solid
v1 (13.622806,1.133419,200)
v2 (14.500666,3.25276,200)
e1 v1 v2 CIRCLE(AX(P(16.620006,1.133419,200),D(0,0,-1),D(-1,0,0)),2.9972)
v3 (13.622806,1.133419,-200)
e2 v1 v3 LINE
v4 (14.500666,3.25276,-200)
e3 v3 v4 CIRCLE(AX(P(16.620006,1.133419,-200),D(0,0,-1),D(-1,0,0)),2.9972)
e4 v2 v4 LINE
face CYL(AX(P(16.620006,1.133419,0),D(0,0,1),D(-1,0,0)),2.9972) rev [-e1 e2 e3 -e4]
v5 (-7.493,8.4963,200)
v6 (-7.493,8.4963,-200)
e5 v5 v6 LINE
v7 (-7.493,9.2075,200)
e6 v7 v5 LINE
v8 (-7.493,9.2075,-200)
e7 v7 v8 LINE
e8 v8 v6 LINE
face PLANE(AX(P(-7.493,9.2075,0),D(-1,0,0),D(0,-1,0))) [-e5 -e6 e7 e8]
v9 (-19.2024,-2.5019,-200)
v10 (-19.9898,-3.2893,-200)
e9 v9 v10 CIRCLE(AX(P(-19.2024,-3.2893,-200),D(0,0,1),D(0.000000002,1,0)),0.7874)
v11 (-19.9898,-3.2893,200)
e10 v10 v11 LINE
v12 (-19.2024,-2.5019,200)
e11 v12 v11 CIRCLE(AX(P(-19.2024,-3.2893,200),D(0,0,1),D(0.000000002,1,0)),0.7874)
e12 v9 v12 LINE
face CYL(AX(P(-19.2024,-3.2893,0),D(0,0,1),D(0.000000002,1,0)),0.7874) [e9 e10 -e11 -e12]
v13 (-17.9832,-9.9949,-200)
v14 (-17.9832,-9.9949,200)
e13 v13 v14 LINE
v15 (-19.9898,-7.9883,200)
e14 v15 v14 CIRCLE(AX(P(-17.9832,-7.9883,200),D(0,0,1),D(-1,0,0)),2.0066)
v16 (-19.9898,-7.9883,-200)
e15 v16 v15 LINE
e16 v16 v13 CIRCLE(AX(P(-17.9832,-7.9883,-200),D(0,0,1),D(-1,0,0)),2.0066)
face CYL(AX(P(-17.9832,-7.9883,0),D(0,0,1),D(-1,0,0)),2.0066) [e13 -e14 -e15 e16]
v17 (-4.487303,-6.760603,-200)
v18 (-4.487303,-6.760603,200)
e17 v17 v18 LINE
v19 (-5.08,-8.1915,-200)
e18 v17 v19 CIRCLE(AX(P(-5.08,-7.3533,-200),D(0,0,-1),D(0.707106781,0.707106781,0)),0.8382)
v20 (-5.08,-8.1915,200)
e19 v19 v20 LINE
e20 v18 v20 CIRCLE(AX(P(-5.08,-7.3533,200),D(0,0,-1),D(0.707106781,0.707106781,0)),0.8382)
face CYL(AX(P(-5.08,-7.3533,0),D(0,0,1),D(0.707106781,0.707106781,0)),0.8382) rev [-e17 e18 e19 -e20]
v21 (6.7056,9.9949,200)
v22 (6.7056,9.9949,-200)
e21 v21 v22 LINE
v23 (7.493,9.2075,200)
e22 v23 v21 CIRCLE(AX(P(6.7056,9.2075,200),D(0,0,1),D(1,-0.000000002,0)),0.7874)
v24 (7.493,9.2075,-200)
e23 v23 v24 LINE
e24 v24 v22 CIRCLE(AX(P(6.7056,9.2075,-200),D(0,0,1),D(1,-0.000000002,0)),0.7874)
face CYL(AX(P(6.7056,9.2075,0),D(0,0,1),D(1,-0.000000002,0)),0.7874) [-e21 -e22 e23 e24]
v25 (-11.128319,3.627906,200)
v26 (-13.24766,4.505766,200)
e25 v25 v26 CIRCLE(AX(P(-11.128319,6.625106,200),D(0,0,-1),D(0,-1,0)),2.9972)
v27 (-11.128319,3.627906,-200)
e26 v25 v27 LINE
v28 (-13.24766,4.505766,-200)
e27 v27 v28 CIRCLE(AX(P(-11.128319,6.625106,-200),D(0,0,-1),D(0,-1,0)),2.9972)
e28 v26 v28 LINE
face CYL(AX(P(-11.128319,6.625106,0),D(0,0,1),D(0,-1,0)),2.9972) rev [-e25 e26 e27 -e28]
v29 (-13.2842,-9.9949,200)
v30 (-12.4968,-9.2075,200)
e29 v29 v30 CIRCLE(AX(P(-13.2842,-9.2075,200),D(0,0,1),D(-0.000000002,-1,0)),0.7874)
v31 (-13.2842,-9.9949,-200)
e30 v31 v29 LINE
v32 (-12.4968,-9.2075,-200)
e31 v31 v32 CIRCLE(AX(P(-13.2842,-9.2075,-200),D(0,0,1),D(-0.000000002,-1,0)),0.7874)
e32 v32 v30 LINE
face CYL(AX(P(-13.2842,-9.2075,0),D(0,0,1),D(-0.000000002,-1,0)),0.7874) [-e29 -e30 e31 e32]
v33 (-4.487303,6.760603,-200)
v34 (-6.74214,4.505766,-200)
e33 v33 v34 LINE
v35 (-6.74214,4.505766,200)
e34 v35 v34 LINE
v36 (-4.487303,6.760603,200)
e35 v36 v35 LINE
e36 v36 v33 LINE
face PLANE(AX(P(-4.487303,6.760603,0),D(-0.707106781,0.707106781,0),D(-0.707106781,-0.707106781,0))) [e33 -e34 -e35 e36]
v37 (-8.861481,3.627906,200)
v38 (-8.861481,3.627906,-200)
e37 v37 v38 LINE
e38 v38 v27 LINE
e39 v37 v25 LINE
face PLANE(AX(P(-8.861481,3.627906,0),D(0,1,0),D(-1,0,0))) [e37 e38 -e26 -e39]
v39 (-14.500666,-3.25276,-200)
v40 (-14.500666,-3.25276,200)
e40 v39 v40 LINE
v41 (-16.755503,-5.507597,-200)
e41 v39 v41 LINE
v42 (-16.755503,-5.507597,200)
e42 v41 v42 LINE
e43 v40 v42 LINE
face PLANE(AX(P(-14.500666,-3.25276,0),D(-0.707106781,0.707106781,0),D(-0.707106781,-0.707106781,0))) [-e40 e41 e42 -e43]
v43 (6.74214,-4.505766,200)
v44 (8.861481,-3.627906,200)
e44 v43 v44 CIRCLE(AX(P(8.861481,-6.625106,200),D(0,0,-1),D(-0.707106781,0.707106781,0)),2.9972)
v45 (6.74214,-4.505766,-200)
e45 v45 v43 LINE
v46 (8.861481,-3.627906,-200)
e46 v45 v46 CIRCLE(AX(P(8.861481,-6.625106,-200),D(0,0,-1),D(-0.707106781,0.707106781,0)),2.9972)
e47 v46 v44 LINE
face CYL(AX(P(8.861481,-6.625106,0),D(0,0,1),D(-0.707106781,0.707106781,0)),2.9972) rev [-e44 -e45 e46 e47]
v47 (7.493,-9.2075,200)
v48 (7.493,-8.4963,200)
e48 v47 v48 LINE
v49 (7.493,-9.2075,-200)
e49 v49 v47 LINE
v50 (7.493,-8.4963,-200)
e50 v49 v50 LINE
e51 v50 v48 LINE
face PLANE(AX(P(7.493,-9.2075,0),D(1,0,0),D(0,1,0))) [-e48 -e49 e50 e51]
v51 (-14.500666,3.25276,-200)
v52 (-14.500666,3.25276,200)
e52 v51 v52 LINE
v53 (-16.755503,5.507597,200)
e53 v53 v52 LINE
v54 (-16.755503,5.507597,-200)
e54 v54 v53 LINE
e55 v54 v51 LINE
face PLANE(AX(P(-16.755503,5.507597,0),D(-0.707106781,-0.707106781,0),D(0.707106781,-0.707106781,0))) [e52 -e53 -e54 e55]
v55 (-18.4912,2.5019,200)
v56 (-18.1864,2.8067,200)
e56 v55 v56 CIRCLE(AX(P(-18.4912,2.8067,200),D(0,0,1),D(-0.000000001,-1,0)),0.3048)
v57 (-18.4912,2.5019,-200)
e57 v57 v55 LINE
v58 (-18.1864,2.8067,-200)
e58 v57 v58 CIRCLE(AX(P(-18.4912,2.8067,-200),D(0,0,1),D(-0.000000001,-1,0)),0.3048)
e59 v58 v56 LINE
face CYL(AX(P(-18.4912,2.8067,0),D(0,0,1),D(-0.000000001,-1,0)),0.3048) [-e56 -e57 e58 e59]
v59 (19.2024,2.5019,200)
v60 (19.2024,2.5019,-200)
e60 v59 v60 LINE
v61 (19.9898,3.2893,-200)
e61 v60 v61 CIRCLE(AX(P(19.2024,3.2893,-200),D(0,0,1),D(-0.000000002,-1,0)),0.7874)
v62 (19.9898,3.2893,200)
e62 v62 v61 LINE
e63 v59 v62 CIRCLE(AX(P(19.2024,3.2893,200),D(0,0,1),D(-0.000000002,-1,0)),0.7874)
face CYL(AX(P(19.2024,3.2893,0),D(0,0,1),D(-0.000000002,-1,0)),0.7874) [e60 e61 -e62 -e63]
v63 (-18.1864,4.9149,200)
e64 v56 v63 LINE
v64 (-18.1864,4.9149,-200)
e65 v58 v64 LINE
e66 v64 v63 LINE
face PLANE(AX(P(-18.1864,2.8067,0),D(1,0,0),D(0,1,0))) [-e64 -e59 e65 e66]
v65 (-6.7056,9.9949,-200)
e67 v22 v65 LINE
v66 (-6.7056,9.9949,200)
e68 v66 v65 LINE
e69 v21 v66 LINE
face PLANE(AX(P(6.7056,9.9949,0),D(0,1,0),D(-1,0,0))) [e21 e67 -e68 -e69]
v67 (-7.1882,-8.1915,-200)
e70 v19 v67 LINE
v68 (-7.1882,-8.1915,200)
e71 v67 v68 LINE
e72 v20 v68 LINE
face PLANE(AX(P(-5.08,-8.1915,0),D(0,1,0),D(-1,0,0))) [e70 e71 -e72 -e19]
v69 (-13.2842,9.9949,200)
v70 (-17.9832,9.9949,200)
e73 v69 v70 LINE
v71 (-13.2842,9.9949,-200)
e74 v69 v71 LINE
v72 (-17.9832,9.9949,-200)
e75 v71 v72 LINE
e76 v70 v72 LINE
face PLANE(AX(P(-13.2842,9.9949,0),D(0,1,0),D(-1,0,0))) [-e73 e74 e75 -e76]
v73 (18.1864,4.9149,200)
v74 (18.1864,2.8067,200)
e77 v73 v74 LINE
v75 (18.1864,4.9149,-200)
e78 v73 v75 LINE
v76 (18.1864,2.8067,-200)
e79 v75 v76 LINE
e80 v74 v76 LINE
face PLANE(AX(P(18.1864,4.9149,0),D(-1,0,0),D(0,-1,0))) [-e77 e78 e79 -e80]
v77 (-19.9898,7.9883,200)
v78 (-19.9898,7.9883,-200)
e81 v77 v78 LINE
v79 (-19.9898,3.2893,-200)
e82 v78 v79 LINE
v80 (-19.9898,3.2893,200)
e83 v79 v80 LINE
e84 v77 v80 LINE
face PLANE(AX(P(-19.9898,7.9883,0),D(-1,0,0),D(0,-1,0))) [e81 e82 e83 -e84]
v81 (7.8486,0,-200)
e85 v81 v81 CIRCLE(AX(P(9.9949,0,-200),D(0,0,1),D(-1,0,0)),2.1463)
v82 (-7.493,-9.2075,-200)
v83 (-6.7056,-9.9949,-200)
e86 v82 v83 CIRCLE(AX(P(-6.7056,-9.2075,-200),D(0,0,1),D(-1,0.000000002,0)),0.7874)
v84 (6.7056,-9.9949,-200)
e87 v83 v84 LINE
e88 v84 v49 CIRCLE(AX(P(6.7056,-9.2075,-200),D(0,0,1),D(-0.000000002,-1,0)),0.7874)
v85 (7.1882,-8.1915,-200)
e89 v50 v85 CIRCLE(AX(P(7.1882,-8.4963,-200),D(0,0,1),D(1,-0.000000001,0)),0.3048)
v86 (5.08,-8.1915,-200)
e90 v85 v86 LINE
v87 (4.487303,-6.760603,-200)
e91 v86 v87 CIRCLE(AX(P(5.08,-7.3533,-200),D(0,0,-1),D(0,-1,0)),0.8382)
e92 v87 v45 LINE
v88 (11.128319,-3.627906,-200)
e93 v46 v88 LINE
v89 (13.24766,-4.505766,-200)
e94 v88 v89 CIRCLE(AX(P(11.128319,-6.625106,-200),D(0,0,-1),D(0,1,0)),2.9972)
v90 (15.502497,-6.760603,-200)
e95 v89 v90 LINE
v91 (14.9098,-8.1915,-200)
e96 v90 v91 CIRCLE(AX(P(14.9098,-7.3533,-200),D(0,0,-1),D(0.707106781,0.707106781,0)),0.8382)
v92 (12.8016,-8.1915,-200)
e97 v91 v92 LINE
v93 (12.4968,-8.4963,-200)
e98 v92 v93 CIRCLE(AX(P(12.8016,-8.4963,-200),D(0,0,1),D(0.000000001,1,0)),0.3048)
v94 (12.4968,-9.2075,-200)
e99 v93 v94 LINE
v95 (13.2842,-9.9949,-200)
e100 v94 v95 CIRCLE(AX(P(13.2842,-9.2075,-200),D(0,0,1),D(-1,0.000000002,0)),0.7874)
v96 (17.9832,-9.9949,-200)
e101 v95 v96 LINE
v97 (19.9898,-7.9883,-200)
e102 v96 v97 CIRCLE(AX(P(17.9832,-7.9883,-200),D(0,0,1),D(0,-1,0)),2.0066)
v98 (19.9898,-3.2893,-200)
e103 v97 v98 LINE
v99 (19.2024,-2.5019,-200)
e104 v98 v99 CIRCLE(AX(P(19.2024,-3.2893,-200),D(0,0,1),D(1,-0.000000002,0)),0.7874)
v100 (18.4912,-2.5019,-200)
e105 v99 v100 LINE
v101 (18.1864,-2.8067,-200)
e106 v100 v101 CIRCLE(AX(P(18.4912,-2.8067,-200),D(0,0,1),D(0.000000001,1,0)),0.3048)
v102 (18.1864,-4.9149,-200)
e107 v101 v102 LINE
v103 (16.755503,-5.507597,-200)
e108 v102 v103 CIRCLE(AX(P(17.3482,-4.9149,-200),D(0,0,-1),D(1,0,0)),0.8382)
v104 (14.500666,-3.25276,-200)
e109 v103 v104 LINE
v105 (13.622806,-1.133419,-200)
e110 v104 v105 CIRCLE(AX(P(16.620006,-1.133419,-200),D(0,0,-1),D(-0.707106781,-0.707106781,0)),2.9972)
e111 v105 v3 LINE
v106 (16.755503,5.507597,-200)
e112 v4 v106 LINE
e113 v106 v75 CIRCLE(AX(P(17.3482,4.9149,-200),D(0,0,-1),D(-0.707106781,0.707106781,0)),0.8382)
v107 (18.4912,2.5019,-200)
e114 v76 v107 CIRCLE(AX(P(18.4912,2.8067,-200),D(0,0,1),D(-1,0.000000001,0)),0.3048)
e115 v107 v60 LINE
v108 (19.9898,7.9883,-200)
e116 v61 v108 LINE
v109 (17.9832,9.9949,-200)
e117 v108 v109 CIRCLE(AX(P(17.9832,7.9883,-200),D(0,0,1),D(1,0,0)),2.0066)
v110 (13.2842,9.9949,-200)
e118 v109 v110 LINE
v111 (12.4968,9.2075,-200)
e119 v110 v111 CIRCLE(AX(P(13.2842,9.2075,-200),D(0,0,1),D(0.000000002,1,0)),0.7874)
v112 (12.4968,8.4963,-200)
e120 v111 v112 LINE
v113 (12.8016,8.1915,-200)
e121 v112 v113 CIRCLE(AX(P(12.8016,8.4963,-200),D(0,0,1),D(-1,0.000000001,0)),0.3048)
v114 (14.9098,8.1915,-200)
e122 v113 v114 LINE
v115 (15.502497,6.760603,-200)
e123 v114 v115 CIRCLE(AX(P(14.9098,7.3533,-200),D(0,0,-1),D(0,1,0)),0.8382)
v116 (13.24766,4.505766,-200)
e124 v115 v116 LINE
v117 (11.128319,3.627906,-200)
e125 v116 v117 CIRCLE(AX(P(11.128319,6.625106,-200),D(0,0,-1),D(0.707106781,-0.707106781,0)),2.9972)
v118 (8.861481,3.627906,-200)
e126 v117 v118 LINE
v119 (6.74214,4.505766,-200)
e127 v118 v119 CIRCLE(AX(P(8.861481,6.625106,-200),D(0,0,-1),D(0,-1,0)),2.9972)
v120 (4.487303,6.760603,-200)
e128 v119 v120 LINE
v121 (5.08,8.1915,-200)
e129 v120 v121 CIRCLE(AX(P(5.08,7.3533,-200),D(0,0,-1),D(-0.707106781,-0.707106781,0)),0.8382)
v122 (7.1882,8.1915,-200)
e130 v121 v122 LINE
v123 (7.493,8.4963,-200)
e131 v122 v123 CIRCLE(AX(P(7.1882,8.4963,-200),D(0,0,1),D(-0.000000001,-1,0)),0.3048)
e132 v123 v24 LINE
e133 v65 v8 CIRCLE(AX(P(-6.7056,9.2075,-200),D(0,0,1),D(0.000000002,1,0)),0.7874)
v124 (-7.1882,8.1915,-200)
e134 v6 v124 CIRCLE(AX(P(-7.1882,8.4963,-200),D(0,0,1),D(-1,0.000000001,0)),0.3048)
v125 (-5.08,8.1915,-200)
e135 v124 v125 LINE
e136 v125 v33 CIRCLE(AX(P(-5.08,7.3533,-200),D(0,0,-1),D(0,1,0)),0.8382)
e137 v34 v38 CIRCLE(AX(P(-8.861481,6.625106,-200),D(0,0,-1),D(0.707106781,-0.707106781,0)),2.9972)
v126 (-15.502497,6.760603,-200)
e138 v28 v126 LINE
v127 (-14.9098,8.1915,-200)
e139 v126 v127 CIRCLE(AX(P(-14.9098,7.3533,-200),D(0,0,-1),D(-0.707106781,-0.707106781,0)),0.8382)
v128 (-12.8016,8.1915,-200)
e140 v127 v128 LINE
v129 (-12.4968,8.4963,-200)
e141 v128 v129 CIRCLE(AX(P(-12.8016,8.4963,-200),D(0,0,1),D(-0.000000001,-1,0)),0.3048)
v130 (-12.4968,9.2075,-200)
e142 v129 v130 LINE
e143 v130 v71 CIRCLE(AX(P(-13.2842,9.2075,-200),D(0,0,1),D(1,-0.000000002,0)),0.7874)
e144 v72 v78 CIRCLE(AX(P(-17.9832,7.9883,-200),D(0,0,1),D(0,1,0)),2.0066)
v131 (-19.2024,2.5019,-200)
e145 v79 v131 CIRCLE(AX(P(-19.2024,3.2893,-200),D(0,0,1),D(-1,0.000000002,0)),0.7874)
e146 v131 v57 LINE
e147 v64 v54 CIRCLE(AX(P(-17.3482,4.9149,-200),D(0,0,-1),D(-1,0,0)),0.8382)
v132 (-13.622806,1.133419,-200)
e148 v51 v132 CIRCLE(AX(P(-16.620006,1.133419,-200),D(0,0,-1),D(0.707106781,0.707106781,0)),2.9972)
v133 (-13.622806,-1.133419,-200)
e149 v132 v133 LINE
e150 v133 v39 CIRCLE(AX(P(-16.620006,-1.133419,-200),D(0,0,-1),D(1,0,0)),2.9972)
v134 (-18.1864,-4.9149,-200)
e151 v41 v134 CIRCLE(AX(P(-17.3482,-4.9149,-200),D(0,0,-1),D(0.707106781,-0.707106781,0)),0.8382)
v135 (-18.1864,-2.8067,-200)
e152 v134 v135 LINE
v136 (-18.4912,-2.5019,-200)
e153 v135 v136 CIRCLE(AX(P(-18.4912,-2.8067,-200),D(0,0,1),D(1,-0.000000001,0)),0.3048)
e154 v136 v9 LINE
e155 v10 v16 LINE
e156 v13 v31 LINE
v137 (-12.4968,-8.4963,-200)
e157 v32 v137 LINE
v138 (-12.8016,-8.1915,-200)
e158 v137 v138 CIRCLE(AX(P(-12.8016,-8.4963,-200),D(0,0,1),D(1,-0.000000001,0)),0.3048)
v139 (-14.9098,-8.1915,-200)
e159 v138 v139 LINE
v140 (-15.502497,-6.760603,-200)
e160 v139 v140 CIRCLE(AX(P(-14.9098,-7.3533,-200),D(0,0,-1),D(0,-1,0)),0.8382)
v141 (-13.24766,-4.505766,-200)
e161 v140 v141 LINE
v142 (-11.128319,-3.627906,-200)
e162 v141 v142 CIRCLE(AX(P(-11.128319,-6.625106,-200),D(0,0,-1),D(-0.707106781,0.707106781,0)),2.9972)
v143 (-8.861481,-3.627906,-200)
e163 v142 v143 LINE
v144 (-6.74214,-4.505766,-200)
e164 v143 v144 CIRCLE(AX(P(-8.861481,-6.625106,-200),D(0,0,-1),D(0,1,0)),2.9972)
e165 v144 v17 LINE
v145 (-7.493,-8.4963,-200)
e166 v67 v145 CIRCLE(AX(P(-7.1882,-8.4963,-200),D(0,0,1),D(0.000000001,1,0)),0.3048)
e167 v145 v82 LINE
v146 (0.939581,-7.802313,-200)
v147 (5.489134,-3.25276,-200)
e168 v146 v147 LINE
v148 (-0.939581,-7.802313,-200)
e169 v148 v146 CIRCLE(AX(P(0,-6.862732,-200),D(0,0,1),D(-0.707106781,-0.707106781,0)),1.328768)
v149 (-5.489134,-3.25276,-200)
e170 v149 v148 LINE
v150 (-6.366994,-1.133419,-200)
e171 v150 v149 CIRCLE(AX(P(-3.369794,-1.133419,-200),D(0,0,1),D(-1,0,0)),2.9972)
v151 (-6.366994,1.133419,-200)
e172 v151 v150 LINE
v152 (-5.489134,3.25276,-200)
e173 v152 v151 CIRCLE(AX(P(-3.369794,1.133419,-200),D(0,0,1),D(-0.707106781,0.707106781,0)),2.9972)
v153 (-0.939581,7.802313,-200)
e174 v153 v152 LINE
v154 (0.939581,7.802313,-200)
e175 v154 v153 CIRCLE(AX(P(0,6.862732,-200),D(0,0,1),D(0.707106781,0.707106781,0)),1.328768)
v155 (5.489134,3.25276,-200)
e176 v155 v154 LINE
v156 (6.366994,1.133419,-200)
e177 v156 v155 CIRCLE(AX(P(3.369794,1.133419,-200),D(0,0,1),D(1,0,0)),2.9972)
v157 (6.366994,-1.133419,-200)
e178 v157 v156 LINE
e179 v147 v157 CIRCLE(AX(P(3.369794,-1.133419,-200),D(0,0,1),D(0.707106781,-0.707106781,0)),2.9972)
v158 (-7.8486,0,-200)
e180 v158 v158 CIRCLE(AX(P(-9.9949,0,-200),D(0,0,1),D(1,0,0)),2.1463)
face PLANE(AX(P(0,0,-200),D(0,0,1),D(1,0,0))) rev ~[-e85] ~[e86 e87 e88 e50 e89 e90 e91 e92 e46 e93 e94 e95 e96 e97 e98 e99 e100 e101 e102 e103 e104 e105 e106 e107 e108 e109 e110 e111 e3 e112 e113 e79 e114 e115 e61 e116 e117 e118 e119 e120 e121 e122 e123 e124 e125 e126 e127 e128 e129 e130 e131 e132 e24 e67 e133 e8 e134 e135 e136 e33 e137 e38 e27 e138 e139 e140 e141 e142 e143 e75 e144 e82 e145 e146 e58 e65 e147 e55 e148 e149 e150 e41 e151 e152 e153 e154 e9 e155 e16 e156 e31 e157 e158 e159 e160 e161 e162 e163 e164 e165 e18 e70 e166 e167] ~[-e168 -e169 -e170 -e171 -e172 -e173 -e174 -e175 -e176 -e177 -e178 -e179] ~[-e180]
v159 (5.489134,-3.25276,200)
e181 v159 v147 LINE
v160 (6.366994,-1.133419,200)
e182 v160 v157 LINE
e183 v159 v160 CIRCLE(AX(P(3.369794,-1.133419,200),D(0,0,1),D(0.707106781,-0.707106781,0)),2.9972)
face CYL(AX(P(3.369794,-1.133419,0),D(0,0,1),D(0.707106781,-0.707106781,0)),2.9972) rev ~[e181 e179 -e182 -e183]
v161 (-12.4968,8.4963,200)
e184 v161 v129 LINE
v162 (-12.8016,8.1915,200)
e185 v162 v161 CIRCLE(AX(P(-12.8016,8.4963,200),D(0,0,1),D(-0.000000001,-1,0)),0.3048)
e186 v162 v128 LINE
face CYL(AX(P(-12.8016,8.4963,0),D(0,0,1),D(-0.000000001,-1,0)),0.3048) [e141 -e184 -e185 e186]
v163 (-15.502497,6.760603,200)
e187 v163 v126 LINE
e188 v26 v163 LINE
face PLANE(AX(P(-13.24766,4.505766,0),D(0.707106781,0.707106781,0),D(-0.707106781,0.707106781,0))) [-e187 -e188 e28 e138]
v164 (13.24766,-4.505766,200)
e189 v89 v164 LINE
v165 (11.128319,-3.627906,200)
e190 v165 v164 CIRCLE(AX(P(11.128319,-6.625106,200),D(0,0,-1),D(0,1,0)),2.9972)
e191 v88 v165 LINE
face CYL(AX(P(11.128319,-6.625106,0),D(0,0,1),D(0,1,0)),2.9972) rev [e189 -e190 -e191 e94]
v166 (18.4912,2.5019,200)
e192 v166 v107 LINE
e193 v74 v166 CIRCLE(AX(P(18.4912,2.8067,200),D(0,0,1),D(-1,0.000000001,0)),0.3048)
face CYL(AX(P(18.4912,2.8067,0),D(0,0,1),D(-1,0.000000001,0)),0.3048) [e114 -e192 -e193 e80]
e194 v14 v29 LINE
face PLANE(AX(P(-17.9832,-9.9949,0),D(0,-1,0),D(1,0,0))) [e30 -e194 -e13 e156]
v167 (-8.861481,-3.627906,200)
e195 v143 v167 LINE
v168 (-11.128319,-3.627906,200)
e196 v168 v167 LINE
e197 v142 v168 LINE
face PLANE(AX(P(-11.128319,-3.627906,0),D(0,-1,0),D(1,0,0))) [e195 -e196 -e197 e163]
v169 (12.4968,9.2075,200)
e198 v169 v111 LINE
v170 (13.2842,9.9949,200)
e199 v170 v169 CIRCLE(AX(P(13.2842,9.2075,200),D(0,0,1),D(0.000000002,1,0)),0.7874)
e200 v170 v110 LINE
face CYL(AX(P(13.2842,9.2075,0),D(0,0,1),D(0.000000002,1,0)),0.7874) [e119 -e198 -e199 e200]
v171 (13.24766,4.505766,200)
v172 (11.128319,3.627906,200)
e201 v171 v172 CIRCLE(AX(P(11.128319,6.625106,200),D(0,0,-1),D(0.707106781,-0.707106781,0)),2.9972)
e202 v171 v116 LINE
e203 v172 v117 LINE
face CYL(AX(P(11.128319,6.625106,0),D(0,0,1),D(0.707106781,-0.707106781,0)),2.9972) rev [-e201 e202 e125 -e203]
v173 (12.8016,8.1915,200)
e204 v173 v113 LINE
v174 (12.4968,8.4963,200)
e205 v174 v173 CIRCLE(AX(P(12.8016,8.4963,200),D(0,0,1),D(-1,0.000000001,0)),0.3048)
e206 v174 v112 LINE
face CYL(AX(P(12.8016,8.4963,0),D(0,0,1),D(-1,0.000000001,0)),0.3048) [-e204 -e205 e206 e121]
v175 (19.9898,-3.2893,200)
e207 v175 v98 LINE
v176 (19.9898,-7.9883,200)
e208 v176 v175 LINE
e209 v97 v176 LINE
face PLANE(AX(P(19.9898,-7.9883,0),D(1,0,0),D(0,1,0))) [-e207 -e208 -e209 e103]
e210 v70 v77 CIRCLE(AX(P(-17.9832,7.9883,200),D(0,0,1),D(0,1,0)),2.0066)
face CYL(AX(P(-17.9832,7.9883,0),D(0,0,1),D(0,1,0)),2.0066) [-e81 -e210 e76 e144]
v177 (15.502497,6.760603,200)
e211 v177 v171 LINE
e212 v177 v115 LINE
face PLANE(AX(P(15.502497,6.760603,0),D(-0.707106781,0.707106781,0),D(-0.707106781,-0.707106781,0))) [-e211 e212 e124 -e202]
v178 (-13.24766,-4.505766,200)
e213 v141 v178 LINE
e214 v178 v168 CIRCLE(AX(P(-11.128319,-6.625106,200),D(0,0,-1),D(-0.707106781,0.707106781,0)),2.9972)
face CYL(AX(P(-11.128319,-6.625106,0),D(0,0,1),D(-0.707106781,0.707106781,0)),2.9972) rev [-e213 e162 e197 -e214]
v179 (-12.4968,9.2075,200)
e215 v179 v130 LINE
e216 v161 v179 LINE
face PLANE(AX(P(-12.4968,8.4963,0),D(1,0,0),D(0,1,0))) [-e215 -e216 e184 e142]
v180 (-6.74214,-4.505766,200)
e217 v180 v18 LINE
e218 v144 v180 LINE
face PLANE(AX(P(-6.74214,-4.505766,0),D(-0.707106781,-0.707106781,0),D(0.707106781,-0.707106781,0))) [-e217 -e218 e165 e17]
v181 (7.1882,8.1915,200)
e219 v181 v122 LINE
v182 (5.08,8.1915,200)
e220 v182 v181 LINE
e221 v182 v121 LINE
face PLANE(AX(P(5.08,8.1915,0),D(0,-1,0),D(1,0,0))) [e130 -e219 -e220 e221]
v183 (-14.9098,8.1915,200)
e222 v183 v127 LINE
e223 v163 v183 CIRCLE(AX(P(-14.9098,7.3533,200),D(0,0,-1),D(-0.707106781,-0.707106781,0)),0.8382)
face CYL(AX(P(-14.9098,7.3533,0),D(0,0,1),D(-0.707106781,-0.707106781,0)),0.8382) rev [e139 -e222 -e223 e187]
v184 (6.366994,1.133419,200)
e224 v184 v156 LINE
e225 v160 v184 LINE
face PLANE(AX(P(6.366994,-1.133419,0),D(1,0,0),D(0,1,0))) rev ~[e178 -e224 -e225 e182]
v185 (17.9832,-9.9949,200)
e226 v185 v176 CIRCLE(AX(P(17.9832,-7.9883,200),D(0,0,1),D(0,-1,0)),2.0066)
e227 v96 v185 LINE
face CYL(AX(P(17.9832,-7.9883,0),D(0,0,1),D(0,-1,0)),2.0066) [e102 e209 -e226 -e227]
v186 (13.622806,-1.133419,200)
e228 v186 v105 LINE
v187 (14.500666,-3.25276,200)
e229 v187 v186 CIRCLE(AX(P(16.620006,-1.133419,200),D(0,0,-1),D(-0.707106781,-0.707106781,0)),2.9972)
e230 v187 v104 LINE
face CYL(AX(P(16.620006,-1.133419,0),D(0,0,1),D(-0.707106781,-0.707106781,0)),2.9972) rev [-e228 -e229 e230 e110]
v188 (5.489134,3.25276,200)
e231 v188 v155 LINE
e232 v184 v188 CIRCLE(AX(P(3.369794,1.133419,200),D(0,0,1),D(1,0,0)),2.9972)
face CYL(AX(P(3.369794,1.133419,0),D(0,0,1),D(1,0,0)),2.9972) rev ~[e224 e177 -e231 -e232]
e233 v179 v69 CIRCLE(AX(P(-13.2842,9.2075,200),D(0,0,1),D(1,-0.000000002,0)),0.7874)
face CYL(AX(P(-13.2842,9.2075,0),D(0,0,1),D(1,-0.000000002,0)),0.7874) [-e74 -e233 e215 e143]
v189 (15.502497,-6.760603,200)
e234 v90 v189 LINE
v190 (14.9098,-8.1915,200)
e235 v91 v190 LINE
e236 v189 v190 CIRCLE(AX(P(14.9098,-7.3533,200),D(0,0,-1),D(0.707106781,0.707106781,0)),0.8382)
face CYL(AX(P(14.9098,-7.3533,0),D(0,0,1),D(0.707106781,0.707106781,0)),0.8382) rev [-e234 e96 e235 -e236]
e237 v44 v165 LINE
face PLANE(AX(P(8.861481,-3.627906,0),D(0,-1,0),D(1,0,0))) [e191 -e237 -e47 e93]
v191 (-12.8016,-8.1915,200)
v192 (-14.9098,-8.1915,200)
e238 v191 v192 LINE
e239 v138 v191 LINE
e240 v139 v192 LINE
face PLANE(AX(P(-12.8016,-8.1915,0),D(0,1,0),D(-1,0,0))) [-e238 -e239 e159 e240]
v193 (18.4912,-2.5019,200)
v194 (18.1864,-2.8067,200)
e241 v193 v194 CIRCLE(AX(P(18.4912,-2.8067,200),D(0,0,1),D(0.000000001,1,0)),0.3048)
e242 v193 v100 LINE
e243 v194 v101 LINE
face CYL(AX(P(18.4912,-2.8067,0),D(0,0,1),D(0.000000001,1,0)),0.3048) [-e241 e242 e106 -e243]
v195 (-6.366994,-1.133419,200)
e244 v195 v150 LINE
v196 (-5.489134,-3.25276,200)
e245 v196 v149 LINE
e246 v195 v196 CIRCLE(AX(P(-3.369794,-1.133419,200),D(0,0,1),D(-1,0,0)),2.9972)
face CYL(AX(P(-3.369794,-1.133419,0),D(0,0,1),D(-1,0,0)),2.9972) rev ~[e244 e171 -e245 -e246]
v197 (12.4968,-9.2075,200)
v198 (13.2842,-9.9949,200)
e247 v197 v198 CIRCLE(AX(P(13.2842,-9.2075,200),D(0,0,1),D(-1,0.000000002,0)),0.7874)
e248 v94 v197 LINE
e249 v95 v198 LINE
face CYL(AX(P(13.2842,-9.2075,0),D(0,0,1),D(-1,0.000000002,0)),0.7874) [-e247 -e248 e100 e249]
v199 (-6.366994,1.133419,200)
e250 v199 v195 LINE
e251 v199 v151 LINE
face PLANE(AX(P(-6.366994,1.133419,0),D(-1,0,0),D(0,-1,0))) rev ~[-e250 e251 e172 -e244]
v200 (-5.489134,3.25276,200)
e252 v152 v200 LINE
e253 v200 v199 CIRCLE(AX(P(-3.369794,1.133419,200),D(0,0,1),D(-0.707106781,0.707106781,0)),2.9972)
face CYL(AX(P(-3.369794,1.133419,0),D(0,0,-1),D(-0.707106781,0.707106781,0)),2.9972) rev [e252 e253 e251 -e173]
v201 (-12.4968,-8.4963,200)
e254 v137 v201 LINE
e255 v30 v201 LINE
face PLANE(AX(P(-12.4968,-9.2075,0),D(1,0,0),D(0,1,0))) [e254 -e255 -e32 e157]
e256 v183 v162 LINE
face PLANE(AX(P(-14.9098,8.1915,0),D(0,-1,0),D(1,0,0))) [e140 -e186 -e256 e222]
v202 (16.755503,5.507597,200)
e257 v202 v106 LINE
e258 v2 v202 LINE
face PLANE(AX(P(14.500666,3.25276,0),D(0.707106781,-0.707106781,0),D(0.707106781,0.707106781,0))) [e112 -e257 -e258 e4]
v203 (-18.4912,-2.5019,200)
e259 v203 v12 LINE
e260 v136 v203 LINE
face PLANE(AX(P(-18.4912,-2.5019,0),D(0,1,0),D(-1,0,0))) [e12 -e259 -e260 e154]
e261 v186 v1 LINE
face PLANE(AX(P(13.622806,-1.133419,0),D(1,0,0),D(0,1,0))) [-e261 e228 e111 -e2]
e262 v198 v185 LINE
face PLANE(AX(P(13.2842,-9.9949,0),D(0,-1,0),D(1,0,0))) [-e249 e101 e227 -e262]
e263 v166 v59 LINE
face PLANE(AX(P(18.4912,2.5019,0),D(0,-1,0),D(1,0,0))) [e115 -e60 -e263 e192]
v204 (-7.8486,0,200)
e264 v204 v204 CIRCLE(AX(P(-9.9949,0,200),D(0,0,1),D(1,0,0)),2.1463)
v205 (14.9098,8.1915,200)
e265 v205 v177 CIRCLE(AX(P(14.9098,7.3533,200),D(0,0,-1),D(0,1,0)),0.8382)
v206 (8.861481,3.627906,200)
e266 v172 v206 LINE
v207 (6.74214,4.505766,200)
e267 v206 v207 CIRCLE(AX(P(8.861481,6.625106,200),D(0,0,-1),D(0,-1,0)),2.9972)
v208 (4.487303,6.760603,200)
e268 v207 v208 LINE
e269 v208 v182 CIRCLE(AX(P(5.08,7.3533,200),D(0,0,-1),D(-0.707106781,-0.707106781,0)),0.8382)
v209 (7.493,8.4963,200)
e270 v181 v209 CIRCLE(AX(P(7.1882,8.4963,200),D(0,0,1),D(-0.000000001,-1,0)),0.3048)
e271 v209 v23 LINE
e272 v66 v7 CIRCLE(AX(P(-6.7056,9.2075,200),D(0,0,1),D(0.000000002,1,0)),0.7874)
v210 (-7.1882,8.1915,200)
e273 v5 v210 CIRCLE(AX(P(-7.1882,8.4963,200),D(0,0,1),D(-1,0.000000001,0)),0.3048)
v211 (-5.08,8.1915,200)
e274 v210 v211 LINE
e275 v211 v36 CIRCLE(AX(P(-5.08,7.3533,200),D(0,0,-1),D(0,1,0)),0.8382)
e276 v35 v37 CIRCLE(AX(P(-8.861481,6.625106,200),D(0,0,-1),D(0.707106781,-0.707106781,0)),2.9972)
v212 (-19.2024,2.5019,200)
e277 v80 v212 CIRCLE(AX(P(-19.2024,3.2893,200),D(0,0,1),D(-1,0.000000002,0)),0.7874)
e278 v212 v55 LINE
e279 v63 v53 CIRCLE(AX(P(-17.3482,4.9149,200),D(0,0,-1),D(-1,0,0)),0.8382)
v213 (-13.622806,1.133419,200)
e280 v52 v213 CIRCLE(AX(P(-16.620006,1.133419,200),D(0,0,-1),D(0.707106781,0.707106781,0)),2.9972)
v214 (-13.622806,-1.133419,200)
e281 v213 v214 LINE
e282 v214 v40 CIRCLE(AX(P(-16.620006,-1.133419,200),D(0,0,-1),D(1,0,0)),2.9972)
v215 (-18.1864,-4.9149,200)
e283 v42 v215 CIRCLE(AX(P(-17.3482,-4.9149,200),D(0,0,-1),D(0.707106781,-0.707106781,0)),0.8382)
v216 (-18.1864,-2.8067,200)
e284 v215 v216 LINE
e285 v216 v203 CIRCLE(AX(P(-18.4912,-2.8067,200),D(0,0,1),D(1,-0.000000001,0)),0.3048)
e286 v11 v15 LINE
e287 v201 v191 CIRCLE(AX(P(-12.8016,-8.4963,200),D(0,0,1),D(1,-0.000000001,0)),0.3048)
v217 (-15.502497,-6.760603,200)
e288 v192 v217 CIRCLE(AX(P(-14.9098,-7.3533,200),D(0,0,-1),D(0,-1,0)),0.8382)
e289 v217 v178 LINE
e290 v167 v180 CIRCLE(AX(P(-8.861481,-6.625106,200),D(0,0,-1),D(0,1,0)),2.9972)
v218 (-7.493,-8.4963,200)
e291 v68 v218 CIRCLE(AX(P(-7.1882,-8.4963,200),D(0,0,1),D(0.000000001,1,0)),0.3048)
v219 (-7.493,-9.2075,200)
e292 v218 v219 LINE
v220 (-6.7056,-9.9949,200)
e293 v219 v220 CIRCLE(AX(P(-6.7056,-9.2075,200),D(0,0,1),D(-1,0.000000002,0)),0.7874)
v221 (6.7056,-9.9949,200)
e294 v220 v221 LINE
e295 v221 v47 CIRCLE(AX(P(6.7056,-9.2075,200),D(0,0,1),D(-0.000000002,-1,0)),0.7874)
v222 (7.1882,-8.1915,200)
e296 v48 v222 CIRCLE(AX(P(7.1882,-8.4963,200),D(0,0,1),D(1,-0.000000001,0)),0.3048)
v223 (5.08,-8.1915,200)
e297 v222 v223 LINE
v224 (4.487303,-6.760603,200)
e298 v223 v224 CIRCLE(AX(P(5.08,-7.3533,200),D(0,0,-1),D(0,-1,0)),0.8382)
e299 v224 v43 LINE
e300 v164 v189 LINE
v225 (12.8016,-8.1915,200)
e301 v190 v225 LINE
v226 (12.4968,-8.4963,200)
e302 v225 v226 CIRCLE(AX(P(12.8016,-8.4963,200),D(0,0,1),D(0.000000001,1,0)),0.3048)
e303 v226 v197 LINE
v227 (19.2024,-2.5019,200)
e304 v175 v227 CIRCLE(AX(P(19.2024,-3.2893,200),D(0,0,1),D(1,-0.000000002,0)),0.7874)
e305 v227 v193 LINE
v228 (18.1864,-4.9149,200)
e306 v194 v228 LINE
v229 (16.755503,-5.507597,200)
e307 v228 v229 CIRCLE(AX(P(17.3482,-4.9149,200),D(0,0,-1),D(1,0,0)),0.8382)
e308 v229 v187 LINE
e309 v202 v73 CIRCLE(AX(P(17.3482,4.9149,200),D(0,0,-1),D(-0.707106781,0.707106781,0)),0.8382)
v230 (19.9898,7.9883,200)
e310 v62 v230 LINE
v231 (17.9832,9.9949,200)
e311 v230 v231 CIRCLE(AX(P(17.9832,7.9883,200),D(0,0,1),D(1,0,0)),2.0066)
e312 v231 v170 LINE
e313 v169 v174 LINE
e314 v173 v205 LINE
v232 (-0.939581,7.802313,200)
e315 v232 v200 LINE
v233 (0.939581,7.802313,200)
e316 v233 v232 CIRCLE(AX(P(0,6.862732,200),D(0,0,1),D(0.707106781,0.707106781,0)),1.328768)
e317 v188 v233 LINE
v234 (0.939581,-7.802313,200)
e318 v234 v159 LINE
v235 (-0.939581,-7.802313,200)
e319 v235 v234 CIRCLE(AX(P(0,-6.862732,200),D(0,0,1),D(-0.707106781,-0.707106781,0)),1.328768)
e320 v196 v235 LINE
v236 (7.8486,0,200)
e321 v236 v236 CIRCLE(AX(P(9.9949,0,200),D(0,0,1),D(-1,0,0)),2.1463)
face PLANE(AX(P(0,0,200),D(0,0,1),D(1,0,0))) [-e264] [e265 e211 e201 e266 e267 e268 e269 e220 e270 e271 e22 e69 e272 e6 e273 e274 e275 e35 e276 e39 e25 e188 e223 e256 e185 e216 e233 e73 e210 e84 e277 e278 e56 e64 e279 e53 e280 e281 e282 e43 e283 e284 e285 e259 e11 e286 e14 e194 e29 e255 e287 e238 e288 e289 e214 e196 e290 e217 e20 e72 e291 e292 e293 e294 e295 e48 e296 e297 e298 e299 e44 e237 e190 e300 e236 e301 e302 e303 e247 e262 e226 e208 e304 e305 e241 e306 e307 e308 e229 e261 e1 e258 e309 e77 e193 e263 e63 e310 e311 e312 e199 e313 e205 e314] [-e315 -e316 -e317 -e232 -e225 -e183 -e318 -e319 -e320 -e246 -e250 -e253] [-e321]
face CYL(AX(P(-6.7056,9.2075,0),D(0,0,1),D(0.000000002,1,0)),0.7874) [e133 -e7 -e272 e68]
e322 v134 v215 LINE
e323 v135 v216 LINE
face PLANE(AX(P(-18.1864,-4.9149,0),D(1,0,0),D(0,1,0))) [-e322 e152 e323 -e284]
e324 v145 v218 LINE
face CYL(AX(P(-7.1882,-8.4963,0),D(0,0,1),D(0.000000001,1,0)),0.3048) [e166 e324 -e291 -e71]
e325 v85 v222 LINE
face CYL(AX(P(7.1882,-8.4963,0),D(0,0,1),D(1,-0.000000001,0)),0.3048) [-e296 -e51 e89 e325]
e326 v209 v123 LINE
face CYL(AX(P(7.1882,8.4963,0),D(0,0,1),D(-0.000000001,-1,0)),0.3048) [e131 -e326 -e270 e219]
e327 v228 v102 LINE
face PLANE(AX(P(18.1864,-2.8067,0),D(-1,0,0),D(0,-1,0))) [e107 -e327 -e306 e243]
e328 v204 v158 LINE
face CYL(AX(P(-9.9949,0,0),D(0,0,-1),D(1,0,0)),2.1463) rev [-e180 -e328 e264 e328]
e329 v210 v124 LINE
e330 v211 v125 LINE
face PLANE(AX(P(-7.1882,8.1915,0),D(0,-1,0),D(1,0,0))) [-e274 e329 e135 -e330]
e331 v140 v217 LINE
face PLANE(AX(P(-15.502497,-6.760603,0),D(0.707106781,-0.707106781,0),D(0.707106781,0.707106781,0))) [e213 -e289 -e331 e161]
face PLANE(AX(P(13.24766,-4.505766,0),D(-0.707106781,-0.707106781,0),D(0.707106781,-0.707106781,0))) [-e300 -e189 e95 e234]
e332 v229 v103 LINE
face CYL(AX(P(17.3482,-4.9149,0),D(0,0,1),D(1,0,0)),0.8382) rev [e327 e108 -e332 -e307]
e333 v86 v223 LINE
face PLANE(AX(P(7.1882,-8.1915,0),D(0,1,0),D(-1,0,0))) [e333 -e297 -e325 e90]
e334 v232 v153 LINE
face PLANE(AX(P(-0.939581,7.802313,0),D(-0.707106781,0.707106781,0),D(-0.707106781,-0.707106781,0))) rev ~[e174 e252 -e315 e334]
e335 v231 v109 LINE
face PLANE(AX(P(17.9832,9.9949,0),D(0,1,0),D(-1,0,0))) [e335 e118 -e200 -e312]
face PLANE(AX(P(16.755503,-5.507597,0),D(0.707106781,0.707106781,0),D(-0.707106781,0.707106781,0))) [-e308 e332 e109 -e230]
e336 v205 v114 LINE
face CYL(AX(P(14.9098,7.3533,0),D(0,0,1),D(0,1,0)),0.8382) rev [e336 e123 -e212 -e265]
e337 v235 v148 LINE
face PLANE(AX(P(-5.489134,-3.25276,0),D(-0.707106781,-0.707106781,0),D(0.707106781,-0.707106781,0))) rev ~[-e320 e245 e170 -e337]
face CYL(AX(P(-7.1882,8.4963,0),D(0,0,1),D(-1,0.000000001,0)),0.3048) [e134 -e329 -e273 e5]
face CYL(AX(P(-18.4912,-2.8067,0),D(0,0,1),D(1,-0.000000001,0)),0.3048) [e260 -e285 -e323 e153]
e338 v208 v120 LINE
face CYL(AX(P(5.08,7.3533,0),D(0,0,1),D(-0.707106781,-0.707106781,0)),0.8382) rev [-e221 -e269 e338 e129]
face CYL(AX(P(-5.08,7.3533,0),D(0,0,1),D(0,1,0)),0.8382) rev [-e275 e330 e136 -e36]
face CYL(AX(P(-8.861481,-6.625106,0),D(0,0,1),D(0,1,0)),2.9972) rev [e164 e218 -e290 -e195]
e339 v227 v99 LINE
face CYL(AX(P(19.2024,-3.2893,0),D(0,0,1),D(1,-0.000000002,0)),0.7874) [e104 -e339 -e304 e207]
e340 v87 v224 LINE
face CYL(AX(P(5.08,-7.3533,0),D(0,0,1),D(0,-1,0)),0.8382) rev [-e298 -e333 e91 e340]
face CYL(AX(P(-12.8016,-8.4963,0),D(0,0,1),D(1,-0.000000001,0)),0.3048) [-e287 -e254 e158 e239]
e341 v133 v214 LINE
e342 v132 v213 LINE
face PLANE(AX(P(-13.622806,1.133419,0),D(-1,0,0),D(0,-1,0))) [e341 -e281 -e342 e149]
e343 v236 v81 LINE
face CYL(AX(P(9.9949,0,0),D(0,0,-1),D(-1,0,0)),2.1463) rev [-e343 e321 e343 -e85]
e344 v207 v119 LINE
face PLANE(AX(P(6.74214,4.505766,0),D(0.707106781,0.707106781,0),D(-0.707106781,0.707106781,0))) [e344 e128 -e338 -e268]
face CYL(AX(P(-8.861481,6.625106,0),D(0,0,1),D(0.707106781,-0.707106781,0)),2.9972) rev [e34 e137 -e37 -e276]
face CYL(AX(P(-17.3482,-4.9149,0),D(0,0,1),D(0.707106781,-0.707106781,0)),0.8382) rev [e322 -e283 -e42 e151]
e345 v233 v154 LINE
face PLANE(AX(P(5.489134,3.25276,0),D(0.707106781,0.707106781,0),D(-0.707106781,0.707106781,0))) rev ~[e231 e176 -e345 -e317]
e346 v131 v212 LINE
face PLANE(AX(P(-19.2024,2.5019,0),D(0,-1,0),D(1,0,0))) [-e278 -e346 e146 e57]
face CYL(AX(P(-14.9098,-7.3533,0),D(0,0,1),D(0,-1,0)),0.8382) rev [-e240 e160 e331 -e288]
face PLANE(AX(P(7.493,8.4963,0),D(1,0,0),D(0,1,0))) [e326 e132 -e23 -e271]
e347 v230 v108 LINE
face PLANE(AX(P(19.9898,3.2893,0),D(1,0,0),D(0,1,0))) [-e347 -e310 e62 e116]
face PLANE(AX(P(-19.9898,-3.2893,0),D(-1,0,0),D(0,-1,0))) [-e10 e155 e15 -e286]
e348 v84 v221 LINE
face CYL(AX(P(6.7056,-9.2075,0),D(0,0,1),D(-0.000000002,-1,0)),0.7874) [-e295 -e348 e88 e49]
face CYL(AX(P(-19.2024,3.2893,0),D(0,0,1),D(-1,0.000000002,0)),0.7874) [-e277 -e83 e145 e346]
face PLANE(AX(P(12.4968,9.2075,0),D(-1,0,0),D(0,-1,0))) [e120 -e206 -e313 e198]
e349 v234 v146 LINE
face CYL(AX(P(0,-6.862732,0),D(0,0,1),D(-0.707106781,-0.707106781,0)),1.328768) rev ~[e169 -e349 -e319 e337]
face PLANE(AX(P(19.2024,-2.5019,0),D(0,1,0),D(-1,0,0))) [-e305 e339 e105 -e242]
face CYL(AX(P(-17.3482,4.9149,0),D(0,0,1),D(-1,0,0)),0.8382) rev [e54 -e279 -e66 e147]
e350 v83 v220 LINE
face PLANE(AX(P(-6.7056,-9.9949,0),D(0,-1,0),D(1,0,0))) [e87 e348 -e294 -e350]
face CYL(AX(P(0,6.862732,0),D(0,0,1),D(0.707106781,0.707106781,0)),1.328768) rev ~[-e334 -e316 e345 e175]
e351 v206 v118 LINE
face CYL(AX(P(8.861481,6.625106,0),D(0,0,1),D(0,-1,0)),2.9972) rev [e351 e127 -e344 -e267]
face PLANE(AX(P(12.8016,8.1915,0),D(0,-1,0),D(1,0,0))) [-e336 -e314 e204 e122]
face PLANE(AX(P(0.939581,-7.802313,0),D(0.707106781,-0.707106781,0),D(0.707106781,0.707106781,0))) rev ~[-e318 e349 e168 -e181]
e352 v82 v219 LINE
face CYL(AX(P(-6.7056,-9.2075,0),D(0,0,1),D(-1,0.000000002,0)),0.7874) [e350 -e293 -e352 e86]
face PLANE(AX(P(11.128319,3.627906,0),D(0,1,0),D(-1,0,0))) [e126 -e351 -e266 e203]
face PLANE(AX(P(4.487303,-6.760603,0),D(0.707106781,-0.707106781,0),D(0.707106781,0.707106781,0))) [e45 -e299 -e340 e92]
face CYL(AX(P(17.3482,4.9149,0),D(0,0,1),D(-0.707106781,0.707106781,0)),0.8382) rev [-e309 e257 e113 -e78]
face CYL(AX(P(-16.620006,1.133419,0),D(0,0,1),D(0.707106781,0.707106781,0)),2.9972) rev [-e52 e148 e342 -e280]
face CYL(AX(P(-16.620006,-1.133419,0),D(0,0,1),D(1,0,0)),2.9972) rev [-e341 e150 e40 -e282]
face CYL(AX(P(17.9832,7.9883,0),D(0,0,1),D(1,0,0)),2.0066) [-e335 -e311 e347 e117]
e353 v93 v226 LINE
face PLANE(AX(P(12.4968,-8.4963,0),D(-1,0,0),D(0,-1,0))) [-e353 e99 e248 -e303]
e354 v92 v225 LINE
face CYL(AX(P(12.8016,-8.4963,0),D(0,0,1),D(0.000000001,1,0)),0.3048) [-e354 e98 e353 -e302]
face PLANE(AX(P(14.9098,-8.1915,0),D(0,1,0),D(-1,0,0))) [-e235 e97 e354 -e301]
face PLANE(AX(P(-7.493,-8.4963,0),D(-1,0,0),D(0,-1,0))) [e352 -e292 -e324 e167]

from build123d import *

# Parameters (mm, degrees)
SKETCH1_R           = 2.1463
BOSS_EXTRUDE1_DEPTH = 200


with BuildPart() as part:
    # Sketch1 → Boss-Extrude1 (new, symmetric)
    with BuildSketch(Plane.XY):
        with BuildLine():
            Line((-19.9898, 7.9883), (-19.9898, 3.2893))
            ThreePointArc((-19.9898, 3.2893), (-19.75917588, 2.73252412), (-19.2024, 2.5019))
            Line((-19.2024, 2.5019), (-18.4912, 2.5019))
            ThreePointArc((-18.4912, 2.5019), (-18.275673853, 2.591173853), (-18.1864, 2.8067))
            Line((-18.1864, 2.8067), (-18.1864, 4.9149))
            ThreePointArc((-18.1864, 4.9149), (-17.668965253, 5.689295824), (-16.755503096, 5.507596904))
            Line((-16.755503096, 5.507596904), (-14.500665747, 3.252759555))
            ThreePointArc((-14.500665747, 3.252759555), (-13.850954457, 2.280397894), (-13.622806192, 1.133419111))
            Line((-13.622806192, 1.133419111), (-13.622806192, -1.133419111))
            ThreePointArc((-13.622806192, -1.133419111), (-13.850954457, -2.280397894), (-14.500665747, -3.252759555))
            Line((-14.500665747, -3.252759555), (-16.755503096, -5.507596904))
            ThreePointArc((-16.755503096, -5.507596904), (-17.668965253, -5.689295824), (-18.1864, -4.9149))
            Line((-18.1864, -4.9149), (-18.1864, -2.8067))
            ThreePointArc((-18.1864, -2.8067), (-18.275673853, -2.591173853), (-18.4912, -2.5019))
            Line((-18.4912, -2.5019), (-19.2024, -2.5019))
            ThreePointArc((-19.2024, -2.5019), (-19.75917588, -2.73252412), (-19.9898, -3.2893))
            Line((-19.9898, -3.2893), (-19.9898, -7.9883))
            ThreePointArc((-19.9898, -7.9883), (-19.402080467, -9.407180467), (-17.9832, -9.9949))
            Line((-17.9832, -9.9949), (-13.2842, -9.9949))
            ThreePointArc((-13.2842, -9.9949), (-12.72742412, -9.76427588), (-12.4968, -9.2075))
            Line((-12.4968, -9.2075), (-12.4968, -8.4963))
            ThreePointArc((-12.4968, -8.4963), (-12.586073853, -8.280773853), (-12.8016, -8.1915))
            Line((-12.8016, -8.1915), (-14.9098, -8.1915))
            ThreePointArc((-14.9098, -8.1915), (-15.684195824, -7.674065253), (-15.502496904, -6.760603096))
            Line((-15.502496904, -6.760603096), (-13.247659555, -4.505765747))
            ThreePointArc((-13.247659555, -4.505765747), (-12.275297894, -3.856054457), (-11.128319111, -3.627906192))
            Line((-11.128319111, -3.627906192), (-8.861480889, -3.627906192))
            ThreePointArc((-8.861480889, -3.627906192), (-7.714502106, -3.856054457), (-6.742140445, -4.505765747))
            Line((-6.742140445, -4.505765747), (-4.487303096, -6.760603096))
            ThreePointArc((-4.487303096, -6.760603096), (-4.305604176, -7.674065253), (-5.08, -8.1915))
            Line((-5.08, -8.1915), (-7.1882, -8.1915))
            ThreePointArc((-7.1882, -8.1915), (-7.403726147, -8.280773853), (-7.493, -8.4963))
            Line((-7.493, -8.4963), (-7.493, -9.2075))
            ThreePointArc((-7.493, -9.2075), (-7.26237588, -9.76427588), (-6.7056, -9.9949))
            Line((-6.7056, -9.9949), (0, -9.9949))
            Line((0, -9.9949), (6.7056, -9.9949))
            ThreePointArc((6.7056, -9.9949), (7.26237588, -9.76427588), (7.493, -9.2075))
            Line((7.493, -9.2075), (7.493, -8.4963))
            ThreePointArc((7.493, -8.4963), (7.403726147, -8.280773853), (7.1882, -8.1915))
            Line((7.1882, -8.1915), (5.08, -8.1915))
            ThreePointArc((5.08, -8.1915), (4.305604176, -7.674065253), (4.487303096, -6.760603096))
            Line((4.487303096, -6.760603096), (6.742140445, -4.505765747))
            ThreePointArc((6.742140445, -4.505765747), (7.714502106, -3.856054457), (8.861480889, -3.627906192))
            Line((8.861480889, -3.627906192), (11.128319111, -3.627906192))
            ThreePointArc((11.128319111, -3.627906192), (12.275297894, -3.856054457), (13.247659555, -4.505765747))
            Line((13.247659555, -4.505765747), (15.502496904, -6.760603096))
            ThreePointArc((15.502496904, -6.760603096), (15.684195824, -7.674065253), (14.9098, -8.1915))
            Line((14.9098, -8.1915), (12.8016, -8.1915))
            ThreePointArc((12.8016, -8.1915), (12.586073853, -8.280773853), (12.4968, -8.4963))
            Line((12.4968, -8.4963), (12.4968, -9.2075))
            ThreePointArc((12.4968, -9.2075), (12.72742412, -9.76427588), (13.2842, -9.9949))
            Line((13.2842, -9.9949), (17.9832, -9.9949))
            ThreePointArc((17.9832, -9.9949), (19.402080467, -9.407180467), (19.9898, -7.9883))
            Line((19.9898, -7.9883), (19.9898, -3.2893))
            ThreePointArc((19.9898, -3.2893), (19.75917588, -2.73252412), (19.2024, -2.5019))
            Line((19.2024, -2.5019), (18.4912, -2.5019))
            ThreePointArc((18.4912, -2.5019), (18.275673853, -2.591173853), (18.1864, -2.8067))
            Line((18.1864, -2.8067), (18.1864, -4.9149))
            ThreePointArc((18.1864, -4.9149), (17.668965253, -5.689295824), (16.755503096, -5.507596904))
            Line((16.755503096, -5.507596904), (14.500665747, -3.252759555))
            ThreePointArc((14.500665747, -3.252759555), (13.850954457, -2.280397894), (13.622806192, -1.133419111))
            Line((13.622806192, -1.133419111), (13.622806192, 1.133419111))
            ThreePointArc((13.622806192, 1.133419111), (13.850954457, 2.280397894), (14.500665747, 3.252759555))
            Line((14.500665747, 3.252759555), (16.755503096, 5.507596904))
            ThreePointArc((16.755503096, 5.507596904), (17.668965253, 5.689295824), (18.1864, 4.9149))
            Line((18.1864, 4.9149), (18.1864, 2.8067))
            ThreePointArc((18.1864, 2.8067), (18.275673853, 2.591173853), (18.4912, 2.5019))
            Line((18.4912, 2.5019), (19.2024, 2.5019))
            ThreePointArc((19.2024, 2.5019), (19.75917588, 2.73252412), (19.9898, 3.2893))
            Line((19.9898, 3.2893), (19.9898, 7.9883))
            ThreePointArc((19.9898, 7.9883), (19.402080467, 9.407180467), (17.9832, 9.9949))
            Line((17.9832, 9.9949), (13.2842, 9.9949))
            ThreePointArc((13.2842, 9.9949), (12.72742412, 9.76427588), (12.4968, 9.2075))
            Line((12.4968, 9.2075), (12.4968, 8.4963))
            ThreePointArc((12.4968, 8.4963), (12.586073853, 8.280773853), (12.8016, 8.1915))
            Line((12.8016, 8.1915), (14.9098, 8.1915))
            ThreePointArc((14.9098, 8.1915), (15.684195824, 7.674065253), (15.502496904, 6.760603096))
            Line((15.502496904, 6.760603096), (13.247659555, 4.505765747))
            ThreePointArc((13.247659555, 4.505765747), (12.275297894, 3.856054457), (11.128319111, 3.627906192))
            Line((11.128319111, 3.627906192), (8.861480889, 3.627906192))
            ThreePointArc((8.861480889, 3.627906192), (7.714502106, 3.856054457), (6.742140445, 4.505765747))
            Line((6.742140445, 4.505765747), (4.487303096, 6.760603096))
            ThreePointArc((4.487303096, 6.760603096), (4.305604176, 7.674065253), (5.08, 8.1915))
            Line((5.08, 8.1915), (7.1882, 8.1915))
            ThreePointArc((7.1882, 8.1915), (7.403726147, 8.280773853), (7.493, 8.4963))
            Line((7.493, 8.4963), (7.493, 9.2075))
            ThreePointArc((7.493, 9.2075), (7.26237588, 9.76427588), (6.7056, 9.9949))
            Line((6.7056, 9.9949), (0, 9.9949))
            Line((0, 9.9949), (-6.7056, 9.9949))
            ThreePointArc((-6.7056, 9.9949), (-7.26237588, 9.76427588), (-7.493, 9.2075))
            Line((-7.493, 9.2075), (-7.493, 8.4963))
            ThreePointArc((-7.493, 8.4963), (-7.403726147, 8.280773853), (-7.1882, 8.1915))
            Line((-7.1882, 8.1915), (-5.08, 8.1915))
            ThreePointArc((-5.08, 8.1915), (-4.305604176, 7.674065253), (-4.487303096, 6.760603096))
            Line((-4.487303096, 6.760603096), (-6.742140445, 4.505765747))
            ThreePointArc((-6.742140445, 4.505765747), (-7.714502106, 3.856054457), (-8.861480889, 3.627906192))
            Line((-8.861480889, 3.627906192), (-11.128319111, 3.627906192))
            ThreePointArc((-11.128319111, 3.627906192), (-12.275297894, 3.856054457), (-13.247659555, 4.505765747))
            Line((-13.247659555, 4.505765747), (-15.502496904, 6.760603096))
            ThreePointArc((-15.502496904, 6.760603096), (-15.684195824, 7.674065253), (-14.9098, 8.1915))
            Line((-14.9098, 8.1915), (-12.8016, 8.1915))
            ThreePointArc((-12.8016, 8.1915), (-12.586073853, 8.280773853), (-12.4968, 8.4963))
            Line((-12.4968, 8.4963), (-12.4968, 9.2075))
            ThreePointArc((-12.4968, 9.2075), (-12.72742412, 9.76427588), (-13.2842, 9.9949))
            Line((-13.2842, 9.9949), (-17.9832, 9.9949))
            ThreePointArc((-17.9832, 9.9949), (-19.402080467, 9.407180467), (-19.9898, 7.9883))
        make_face()
        with Locations((-9.9949, 0)):
            Circle(SKETCH1_R, mode=Mode.SUBTRACT)
        with Locations(Location((9.9949, 0, 0), (0, 0, 180))):
            Circle(SKETCH1_R, mode=Mode.SUBTRACT)
        with BuildLine():
            Line((-6.366993808, 1.133419111), (-6.366993808, -1.133419111))
            ThreePointArc((-6.366993808, -1.133419111), (-6.138845543, -2.280397894), (-5.489134253, -3.252759555))
            Line((-5.489134253, -3.252759555), (-0.939581002, -7.802312806))
            ThreePointArc((-0.939581002, -7.802312806), (0, -8.1915), (0.939581002, -7.802312806))
            Line((0.939581002, -7.802312806), (5.489134253, -3.252759555))
            ThreePointArc((5.489134253, -3.252759555), (6.138845543, -2.280397894), (6.366993808, -1.133419111))
            Line((6.366993808, -1.133419111), (6.366993808, 1.133419111))
            ThreePointArc((6.366993808, 1.133419111), (6.138845543, 2.280397894), (5.489134253, 3.252759555))
            Line((5.489134253, 3.252759555), (0.939581002, 7.802312806))
            ThreePointArc((0.939581002, 7.802312806), (0, 8.1915), (-0.939581002, 7.802312806))
            Line((-0.939581002, 7.802312806), (-5.489134253, 3.252759555))
            ThreePointArc((-5.489134253, 3.252759555), (-6.138845543, 2.280397894), (-6.366993808, 1.133419111))
        make_face(mode=Mode.SUBTRACT)
    extrude(amount=BOSS_EXTRUDE1_DEPTH, both=True)


solid = part.part
